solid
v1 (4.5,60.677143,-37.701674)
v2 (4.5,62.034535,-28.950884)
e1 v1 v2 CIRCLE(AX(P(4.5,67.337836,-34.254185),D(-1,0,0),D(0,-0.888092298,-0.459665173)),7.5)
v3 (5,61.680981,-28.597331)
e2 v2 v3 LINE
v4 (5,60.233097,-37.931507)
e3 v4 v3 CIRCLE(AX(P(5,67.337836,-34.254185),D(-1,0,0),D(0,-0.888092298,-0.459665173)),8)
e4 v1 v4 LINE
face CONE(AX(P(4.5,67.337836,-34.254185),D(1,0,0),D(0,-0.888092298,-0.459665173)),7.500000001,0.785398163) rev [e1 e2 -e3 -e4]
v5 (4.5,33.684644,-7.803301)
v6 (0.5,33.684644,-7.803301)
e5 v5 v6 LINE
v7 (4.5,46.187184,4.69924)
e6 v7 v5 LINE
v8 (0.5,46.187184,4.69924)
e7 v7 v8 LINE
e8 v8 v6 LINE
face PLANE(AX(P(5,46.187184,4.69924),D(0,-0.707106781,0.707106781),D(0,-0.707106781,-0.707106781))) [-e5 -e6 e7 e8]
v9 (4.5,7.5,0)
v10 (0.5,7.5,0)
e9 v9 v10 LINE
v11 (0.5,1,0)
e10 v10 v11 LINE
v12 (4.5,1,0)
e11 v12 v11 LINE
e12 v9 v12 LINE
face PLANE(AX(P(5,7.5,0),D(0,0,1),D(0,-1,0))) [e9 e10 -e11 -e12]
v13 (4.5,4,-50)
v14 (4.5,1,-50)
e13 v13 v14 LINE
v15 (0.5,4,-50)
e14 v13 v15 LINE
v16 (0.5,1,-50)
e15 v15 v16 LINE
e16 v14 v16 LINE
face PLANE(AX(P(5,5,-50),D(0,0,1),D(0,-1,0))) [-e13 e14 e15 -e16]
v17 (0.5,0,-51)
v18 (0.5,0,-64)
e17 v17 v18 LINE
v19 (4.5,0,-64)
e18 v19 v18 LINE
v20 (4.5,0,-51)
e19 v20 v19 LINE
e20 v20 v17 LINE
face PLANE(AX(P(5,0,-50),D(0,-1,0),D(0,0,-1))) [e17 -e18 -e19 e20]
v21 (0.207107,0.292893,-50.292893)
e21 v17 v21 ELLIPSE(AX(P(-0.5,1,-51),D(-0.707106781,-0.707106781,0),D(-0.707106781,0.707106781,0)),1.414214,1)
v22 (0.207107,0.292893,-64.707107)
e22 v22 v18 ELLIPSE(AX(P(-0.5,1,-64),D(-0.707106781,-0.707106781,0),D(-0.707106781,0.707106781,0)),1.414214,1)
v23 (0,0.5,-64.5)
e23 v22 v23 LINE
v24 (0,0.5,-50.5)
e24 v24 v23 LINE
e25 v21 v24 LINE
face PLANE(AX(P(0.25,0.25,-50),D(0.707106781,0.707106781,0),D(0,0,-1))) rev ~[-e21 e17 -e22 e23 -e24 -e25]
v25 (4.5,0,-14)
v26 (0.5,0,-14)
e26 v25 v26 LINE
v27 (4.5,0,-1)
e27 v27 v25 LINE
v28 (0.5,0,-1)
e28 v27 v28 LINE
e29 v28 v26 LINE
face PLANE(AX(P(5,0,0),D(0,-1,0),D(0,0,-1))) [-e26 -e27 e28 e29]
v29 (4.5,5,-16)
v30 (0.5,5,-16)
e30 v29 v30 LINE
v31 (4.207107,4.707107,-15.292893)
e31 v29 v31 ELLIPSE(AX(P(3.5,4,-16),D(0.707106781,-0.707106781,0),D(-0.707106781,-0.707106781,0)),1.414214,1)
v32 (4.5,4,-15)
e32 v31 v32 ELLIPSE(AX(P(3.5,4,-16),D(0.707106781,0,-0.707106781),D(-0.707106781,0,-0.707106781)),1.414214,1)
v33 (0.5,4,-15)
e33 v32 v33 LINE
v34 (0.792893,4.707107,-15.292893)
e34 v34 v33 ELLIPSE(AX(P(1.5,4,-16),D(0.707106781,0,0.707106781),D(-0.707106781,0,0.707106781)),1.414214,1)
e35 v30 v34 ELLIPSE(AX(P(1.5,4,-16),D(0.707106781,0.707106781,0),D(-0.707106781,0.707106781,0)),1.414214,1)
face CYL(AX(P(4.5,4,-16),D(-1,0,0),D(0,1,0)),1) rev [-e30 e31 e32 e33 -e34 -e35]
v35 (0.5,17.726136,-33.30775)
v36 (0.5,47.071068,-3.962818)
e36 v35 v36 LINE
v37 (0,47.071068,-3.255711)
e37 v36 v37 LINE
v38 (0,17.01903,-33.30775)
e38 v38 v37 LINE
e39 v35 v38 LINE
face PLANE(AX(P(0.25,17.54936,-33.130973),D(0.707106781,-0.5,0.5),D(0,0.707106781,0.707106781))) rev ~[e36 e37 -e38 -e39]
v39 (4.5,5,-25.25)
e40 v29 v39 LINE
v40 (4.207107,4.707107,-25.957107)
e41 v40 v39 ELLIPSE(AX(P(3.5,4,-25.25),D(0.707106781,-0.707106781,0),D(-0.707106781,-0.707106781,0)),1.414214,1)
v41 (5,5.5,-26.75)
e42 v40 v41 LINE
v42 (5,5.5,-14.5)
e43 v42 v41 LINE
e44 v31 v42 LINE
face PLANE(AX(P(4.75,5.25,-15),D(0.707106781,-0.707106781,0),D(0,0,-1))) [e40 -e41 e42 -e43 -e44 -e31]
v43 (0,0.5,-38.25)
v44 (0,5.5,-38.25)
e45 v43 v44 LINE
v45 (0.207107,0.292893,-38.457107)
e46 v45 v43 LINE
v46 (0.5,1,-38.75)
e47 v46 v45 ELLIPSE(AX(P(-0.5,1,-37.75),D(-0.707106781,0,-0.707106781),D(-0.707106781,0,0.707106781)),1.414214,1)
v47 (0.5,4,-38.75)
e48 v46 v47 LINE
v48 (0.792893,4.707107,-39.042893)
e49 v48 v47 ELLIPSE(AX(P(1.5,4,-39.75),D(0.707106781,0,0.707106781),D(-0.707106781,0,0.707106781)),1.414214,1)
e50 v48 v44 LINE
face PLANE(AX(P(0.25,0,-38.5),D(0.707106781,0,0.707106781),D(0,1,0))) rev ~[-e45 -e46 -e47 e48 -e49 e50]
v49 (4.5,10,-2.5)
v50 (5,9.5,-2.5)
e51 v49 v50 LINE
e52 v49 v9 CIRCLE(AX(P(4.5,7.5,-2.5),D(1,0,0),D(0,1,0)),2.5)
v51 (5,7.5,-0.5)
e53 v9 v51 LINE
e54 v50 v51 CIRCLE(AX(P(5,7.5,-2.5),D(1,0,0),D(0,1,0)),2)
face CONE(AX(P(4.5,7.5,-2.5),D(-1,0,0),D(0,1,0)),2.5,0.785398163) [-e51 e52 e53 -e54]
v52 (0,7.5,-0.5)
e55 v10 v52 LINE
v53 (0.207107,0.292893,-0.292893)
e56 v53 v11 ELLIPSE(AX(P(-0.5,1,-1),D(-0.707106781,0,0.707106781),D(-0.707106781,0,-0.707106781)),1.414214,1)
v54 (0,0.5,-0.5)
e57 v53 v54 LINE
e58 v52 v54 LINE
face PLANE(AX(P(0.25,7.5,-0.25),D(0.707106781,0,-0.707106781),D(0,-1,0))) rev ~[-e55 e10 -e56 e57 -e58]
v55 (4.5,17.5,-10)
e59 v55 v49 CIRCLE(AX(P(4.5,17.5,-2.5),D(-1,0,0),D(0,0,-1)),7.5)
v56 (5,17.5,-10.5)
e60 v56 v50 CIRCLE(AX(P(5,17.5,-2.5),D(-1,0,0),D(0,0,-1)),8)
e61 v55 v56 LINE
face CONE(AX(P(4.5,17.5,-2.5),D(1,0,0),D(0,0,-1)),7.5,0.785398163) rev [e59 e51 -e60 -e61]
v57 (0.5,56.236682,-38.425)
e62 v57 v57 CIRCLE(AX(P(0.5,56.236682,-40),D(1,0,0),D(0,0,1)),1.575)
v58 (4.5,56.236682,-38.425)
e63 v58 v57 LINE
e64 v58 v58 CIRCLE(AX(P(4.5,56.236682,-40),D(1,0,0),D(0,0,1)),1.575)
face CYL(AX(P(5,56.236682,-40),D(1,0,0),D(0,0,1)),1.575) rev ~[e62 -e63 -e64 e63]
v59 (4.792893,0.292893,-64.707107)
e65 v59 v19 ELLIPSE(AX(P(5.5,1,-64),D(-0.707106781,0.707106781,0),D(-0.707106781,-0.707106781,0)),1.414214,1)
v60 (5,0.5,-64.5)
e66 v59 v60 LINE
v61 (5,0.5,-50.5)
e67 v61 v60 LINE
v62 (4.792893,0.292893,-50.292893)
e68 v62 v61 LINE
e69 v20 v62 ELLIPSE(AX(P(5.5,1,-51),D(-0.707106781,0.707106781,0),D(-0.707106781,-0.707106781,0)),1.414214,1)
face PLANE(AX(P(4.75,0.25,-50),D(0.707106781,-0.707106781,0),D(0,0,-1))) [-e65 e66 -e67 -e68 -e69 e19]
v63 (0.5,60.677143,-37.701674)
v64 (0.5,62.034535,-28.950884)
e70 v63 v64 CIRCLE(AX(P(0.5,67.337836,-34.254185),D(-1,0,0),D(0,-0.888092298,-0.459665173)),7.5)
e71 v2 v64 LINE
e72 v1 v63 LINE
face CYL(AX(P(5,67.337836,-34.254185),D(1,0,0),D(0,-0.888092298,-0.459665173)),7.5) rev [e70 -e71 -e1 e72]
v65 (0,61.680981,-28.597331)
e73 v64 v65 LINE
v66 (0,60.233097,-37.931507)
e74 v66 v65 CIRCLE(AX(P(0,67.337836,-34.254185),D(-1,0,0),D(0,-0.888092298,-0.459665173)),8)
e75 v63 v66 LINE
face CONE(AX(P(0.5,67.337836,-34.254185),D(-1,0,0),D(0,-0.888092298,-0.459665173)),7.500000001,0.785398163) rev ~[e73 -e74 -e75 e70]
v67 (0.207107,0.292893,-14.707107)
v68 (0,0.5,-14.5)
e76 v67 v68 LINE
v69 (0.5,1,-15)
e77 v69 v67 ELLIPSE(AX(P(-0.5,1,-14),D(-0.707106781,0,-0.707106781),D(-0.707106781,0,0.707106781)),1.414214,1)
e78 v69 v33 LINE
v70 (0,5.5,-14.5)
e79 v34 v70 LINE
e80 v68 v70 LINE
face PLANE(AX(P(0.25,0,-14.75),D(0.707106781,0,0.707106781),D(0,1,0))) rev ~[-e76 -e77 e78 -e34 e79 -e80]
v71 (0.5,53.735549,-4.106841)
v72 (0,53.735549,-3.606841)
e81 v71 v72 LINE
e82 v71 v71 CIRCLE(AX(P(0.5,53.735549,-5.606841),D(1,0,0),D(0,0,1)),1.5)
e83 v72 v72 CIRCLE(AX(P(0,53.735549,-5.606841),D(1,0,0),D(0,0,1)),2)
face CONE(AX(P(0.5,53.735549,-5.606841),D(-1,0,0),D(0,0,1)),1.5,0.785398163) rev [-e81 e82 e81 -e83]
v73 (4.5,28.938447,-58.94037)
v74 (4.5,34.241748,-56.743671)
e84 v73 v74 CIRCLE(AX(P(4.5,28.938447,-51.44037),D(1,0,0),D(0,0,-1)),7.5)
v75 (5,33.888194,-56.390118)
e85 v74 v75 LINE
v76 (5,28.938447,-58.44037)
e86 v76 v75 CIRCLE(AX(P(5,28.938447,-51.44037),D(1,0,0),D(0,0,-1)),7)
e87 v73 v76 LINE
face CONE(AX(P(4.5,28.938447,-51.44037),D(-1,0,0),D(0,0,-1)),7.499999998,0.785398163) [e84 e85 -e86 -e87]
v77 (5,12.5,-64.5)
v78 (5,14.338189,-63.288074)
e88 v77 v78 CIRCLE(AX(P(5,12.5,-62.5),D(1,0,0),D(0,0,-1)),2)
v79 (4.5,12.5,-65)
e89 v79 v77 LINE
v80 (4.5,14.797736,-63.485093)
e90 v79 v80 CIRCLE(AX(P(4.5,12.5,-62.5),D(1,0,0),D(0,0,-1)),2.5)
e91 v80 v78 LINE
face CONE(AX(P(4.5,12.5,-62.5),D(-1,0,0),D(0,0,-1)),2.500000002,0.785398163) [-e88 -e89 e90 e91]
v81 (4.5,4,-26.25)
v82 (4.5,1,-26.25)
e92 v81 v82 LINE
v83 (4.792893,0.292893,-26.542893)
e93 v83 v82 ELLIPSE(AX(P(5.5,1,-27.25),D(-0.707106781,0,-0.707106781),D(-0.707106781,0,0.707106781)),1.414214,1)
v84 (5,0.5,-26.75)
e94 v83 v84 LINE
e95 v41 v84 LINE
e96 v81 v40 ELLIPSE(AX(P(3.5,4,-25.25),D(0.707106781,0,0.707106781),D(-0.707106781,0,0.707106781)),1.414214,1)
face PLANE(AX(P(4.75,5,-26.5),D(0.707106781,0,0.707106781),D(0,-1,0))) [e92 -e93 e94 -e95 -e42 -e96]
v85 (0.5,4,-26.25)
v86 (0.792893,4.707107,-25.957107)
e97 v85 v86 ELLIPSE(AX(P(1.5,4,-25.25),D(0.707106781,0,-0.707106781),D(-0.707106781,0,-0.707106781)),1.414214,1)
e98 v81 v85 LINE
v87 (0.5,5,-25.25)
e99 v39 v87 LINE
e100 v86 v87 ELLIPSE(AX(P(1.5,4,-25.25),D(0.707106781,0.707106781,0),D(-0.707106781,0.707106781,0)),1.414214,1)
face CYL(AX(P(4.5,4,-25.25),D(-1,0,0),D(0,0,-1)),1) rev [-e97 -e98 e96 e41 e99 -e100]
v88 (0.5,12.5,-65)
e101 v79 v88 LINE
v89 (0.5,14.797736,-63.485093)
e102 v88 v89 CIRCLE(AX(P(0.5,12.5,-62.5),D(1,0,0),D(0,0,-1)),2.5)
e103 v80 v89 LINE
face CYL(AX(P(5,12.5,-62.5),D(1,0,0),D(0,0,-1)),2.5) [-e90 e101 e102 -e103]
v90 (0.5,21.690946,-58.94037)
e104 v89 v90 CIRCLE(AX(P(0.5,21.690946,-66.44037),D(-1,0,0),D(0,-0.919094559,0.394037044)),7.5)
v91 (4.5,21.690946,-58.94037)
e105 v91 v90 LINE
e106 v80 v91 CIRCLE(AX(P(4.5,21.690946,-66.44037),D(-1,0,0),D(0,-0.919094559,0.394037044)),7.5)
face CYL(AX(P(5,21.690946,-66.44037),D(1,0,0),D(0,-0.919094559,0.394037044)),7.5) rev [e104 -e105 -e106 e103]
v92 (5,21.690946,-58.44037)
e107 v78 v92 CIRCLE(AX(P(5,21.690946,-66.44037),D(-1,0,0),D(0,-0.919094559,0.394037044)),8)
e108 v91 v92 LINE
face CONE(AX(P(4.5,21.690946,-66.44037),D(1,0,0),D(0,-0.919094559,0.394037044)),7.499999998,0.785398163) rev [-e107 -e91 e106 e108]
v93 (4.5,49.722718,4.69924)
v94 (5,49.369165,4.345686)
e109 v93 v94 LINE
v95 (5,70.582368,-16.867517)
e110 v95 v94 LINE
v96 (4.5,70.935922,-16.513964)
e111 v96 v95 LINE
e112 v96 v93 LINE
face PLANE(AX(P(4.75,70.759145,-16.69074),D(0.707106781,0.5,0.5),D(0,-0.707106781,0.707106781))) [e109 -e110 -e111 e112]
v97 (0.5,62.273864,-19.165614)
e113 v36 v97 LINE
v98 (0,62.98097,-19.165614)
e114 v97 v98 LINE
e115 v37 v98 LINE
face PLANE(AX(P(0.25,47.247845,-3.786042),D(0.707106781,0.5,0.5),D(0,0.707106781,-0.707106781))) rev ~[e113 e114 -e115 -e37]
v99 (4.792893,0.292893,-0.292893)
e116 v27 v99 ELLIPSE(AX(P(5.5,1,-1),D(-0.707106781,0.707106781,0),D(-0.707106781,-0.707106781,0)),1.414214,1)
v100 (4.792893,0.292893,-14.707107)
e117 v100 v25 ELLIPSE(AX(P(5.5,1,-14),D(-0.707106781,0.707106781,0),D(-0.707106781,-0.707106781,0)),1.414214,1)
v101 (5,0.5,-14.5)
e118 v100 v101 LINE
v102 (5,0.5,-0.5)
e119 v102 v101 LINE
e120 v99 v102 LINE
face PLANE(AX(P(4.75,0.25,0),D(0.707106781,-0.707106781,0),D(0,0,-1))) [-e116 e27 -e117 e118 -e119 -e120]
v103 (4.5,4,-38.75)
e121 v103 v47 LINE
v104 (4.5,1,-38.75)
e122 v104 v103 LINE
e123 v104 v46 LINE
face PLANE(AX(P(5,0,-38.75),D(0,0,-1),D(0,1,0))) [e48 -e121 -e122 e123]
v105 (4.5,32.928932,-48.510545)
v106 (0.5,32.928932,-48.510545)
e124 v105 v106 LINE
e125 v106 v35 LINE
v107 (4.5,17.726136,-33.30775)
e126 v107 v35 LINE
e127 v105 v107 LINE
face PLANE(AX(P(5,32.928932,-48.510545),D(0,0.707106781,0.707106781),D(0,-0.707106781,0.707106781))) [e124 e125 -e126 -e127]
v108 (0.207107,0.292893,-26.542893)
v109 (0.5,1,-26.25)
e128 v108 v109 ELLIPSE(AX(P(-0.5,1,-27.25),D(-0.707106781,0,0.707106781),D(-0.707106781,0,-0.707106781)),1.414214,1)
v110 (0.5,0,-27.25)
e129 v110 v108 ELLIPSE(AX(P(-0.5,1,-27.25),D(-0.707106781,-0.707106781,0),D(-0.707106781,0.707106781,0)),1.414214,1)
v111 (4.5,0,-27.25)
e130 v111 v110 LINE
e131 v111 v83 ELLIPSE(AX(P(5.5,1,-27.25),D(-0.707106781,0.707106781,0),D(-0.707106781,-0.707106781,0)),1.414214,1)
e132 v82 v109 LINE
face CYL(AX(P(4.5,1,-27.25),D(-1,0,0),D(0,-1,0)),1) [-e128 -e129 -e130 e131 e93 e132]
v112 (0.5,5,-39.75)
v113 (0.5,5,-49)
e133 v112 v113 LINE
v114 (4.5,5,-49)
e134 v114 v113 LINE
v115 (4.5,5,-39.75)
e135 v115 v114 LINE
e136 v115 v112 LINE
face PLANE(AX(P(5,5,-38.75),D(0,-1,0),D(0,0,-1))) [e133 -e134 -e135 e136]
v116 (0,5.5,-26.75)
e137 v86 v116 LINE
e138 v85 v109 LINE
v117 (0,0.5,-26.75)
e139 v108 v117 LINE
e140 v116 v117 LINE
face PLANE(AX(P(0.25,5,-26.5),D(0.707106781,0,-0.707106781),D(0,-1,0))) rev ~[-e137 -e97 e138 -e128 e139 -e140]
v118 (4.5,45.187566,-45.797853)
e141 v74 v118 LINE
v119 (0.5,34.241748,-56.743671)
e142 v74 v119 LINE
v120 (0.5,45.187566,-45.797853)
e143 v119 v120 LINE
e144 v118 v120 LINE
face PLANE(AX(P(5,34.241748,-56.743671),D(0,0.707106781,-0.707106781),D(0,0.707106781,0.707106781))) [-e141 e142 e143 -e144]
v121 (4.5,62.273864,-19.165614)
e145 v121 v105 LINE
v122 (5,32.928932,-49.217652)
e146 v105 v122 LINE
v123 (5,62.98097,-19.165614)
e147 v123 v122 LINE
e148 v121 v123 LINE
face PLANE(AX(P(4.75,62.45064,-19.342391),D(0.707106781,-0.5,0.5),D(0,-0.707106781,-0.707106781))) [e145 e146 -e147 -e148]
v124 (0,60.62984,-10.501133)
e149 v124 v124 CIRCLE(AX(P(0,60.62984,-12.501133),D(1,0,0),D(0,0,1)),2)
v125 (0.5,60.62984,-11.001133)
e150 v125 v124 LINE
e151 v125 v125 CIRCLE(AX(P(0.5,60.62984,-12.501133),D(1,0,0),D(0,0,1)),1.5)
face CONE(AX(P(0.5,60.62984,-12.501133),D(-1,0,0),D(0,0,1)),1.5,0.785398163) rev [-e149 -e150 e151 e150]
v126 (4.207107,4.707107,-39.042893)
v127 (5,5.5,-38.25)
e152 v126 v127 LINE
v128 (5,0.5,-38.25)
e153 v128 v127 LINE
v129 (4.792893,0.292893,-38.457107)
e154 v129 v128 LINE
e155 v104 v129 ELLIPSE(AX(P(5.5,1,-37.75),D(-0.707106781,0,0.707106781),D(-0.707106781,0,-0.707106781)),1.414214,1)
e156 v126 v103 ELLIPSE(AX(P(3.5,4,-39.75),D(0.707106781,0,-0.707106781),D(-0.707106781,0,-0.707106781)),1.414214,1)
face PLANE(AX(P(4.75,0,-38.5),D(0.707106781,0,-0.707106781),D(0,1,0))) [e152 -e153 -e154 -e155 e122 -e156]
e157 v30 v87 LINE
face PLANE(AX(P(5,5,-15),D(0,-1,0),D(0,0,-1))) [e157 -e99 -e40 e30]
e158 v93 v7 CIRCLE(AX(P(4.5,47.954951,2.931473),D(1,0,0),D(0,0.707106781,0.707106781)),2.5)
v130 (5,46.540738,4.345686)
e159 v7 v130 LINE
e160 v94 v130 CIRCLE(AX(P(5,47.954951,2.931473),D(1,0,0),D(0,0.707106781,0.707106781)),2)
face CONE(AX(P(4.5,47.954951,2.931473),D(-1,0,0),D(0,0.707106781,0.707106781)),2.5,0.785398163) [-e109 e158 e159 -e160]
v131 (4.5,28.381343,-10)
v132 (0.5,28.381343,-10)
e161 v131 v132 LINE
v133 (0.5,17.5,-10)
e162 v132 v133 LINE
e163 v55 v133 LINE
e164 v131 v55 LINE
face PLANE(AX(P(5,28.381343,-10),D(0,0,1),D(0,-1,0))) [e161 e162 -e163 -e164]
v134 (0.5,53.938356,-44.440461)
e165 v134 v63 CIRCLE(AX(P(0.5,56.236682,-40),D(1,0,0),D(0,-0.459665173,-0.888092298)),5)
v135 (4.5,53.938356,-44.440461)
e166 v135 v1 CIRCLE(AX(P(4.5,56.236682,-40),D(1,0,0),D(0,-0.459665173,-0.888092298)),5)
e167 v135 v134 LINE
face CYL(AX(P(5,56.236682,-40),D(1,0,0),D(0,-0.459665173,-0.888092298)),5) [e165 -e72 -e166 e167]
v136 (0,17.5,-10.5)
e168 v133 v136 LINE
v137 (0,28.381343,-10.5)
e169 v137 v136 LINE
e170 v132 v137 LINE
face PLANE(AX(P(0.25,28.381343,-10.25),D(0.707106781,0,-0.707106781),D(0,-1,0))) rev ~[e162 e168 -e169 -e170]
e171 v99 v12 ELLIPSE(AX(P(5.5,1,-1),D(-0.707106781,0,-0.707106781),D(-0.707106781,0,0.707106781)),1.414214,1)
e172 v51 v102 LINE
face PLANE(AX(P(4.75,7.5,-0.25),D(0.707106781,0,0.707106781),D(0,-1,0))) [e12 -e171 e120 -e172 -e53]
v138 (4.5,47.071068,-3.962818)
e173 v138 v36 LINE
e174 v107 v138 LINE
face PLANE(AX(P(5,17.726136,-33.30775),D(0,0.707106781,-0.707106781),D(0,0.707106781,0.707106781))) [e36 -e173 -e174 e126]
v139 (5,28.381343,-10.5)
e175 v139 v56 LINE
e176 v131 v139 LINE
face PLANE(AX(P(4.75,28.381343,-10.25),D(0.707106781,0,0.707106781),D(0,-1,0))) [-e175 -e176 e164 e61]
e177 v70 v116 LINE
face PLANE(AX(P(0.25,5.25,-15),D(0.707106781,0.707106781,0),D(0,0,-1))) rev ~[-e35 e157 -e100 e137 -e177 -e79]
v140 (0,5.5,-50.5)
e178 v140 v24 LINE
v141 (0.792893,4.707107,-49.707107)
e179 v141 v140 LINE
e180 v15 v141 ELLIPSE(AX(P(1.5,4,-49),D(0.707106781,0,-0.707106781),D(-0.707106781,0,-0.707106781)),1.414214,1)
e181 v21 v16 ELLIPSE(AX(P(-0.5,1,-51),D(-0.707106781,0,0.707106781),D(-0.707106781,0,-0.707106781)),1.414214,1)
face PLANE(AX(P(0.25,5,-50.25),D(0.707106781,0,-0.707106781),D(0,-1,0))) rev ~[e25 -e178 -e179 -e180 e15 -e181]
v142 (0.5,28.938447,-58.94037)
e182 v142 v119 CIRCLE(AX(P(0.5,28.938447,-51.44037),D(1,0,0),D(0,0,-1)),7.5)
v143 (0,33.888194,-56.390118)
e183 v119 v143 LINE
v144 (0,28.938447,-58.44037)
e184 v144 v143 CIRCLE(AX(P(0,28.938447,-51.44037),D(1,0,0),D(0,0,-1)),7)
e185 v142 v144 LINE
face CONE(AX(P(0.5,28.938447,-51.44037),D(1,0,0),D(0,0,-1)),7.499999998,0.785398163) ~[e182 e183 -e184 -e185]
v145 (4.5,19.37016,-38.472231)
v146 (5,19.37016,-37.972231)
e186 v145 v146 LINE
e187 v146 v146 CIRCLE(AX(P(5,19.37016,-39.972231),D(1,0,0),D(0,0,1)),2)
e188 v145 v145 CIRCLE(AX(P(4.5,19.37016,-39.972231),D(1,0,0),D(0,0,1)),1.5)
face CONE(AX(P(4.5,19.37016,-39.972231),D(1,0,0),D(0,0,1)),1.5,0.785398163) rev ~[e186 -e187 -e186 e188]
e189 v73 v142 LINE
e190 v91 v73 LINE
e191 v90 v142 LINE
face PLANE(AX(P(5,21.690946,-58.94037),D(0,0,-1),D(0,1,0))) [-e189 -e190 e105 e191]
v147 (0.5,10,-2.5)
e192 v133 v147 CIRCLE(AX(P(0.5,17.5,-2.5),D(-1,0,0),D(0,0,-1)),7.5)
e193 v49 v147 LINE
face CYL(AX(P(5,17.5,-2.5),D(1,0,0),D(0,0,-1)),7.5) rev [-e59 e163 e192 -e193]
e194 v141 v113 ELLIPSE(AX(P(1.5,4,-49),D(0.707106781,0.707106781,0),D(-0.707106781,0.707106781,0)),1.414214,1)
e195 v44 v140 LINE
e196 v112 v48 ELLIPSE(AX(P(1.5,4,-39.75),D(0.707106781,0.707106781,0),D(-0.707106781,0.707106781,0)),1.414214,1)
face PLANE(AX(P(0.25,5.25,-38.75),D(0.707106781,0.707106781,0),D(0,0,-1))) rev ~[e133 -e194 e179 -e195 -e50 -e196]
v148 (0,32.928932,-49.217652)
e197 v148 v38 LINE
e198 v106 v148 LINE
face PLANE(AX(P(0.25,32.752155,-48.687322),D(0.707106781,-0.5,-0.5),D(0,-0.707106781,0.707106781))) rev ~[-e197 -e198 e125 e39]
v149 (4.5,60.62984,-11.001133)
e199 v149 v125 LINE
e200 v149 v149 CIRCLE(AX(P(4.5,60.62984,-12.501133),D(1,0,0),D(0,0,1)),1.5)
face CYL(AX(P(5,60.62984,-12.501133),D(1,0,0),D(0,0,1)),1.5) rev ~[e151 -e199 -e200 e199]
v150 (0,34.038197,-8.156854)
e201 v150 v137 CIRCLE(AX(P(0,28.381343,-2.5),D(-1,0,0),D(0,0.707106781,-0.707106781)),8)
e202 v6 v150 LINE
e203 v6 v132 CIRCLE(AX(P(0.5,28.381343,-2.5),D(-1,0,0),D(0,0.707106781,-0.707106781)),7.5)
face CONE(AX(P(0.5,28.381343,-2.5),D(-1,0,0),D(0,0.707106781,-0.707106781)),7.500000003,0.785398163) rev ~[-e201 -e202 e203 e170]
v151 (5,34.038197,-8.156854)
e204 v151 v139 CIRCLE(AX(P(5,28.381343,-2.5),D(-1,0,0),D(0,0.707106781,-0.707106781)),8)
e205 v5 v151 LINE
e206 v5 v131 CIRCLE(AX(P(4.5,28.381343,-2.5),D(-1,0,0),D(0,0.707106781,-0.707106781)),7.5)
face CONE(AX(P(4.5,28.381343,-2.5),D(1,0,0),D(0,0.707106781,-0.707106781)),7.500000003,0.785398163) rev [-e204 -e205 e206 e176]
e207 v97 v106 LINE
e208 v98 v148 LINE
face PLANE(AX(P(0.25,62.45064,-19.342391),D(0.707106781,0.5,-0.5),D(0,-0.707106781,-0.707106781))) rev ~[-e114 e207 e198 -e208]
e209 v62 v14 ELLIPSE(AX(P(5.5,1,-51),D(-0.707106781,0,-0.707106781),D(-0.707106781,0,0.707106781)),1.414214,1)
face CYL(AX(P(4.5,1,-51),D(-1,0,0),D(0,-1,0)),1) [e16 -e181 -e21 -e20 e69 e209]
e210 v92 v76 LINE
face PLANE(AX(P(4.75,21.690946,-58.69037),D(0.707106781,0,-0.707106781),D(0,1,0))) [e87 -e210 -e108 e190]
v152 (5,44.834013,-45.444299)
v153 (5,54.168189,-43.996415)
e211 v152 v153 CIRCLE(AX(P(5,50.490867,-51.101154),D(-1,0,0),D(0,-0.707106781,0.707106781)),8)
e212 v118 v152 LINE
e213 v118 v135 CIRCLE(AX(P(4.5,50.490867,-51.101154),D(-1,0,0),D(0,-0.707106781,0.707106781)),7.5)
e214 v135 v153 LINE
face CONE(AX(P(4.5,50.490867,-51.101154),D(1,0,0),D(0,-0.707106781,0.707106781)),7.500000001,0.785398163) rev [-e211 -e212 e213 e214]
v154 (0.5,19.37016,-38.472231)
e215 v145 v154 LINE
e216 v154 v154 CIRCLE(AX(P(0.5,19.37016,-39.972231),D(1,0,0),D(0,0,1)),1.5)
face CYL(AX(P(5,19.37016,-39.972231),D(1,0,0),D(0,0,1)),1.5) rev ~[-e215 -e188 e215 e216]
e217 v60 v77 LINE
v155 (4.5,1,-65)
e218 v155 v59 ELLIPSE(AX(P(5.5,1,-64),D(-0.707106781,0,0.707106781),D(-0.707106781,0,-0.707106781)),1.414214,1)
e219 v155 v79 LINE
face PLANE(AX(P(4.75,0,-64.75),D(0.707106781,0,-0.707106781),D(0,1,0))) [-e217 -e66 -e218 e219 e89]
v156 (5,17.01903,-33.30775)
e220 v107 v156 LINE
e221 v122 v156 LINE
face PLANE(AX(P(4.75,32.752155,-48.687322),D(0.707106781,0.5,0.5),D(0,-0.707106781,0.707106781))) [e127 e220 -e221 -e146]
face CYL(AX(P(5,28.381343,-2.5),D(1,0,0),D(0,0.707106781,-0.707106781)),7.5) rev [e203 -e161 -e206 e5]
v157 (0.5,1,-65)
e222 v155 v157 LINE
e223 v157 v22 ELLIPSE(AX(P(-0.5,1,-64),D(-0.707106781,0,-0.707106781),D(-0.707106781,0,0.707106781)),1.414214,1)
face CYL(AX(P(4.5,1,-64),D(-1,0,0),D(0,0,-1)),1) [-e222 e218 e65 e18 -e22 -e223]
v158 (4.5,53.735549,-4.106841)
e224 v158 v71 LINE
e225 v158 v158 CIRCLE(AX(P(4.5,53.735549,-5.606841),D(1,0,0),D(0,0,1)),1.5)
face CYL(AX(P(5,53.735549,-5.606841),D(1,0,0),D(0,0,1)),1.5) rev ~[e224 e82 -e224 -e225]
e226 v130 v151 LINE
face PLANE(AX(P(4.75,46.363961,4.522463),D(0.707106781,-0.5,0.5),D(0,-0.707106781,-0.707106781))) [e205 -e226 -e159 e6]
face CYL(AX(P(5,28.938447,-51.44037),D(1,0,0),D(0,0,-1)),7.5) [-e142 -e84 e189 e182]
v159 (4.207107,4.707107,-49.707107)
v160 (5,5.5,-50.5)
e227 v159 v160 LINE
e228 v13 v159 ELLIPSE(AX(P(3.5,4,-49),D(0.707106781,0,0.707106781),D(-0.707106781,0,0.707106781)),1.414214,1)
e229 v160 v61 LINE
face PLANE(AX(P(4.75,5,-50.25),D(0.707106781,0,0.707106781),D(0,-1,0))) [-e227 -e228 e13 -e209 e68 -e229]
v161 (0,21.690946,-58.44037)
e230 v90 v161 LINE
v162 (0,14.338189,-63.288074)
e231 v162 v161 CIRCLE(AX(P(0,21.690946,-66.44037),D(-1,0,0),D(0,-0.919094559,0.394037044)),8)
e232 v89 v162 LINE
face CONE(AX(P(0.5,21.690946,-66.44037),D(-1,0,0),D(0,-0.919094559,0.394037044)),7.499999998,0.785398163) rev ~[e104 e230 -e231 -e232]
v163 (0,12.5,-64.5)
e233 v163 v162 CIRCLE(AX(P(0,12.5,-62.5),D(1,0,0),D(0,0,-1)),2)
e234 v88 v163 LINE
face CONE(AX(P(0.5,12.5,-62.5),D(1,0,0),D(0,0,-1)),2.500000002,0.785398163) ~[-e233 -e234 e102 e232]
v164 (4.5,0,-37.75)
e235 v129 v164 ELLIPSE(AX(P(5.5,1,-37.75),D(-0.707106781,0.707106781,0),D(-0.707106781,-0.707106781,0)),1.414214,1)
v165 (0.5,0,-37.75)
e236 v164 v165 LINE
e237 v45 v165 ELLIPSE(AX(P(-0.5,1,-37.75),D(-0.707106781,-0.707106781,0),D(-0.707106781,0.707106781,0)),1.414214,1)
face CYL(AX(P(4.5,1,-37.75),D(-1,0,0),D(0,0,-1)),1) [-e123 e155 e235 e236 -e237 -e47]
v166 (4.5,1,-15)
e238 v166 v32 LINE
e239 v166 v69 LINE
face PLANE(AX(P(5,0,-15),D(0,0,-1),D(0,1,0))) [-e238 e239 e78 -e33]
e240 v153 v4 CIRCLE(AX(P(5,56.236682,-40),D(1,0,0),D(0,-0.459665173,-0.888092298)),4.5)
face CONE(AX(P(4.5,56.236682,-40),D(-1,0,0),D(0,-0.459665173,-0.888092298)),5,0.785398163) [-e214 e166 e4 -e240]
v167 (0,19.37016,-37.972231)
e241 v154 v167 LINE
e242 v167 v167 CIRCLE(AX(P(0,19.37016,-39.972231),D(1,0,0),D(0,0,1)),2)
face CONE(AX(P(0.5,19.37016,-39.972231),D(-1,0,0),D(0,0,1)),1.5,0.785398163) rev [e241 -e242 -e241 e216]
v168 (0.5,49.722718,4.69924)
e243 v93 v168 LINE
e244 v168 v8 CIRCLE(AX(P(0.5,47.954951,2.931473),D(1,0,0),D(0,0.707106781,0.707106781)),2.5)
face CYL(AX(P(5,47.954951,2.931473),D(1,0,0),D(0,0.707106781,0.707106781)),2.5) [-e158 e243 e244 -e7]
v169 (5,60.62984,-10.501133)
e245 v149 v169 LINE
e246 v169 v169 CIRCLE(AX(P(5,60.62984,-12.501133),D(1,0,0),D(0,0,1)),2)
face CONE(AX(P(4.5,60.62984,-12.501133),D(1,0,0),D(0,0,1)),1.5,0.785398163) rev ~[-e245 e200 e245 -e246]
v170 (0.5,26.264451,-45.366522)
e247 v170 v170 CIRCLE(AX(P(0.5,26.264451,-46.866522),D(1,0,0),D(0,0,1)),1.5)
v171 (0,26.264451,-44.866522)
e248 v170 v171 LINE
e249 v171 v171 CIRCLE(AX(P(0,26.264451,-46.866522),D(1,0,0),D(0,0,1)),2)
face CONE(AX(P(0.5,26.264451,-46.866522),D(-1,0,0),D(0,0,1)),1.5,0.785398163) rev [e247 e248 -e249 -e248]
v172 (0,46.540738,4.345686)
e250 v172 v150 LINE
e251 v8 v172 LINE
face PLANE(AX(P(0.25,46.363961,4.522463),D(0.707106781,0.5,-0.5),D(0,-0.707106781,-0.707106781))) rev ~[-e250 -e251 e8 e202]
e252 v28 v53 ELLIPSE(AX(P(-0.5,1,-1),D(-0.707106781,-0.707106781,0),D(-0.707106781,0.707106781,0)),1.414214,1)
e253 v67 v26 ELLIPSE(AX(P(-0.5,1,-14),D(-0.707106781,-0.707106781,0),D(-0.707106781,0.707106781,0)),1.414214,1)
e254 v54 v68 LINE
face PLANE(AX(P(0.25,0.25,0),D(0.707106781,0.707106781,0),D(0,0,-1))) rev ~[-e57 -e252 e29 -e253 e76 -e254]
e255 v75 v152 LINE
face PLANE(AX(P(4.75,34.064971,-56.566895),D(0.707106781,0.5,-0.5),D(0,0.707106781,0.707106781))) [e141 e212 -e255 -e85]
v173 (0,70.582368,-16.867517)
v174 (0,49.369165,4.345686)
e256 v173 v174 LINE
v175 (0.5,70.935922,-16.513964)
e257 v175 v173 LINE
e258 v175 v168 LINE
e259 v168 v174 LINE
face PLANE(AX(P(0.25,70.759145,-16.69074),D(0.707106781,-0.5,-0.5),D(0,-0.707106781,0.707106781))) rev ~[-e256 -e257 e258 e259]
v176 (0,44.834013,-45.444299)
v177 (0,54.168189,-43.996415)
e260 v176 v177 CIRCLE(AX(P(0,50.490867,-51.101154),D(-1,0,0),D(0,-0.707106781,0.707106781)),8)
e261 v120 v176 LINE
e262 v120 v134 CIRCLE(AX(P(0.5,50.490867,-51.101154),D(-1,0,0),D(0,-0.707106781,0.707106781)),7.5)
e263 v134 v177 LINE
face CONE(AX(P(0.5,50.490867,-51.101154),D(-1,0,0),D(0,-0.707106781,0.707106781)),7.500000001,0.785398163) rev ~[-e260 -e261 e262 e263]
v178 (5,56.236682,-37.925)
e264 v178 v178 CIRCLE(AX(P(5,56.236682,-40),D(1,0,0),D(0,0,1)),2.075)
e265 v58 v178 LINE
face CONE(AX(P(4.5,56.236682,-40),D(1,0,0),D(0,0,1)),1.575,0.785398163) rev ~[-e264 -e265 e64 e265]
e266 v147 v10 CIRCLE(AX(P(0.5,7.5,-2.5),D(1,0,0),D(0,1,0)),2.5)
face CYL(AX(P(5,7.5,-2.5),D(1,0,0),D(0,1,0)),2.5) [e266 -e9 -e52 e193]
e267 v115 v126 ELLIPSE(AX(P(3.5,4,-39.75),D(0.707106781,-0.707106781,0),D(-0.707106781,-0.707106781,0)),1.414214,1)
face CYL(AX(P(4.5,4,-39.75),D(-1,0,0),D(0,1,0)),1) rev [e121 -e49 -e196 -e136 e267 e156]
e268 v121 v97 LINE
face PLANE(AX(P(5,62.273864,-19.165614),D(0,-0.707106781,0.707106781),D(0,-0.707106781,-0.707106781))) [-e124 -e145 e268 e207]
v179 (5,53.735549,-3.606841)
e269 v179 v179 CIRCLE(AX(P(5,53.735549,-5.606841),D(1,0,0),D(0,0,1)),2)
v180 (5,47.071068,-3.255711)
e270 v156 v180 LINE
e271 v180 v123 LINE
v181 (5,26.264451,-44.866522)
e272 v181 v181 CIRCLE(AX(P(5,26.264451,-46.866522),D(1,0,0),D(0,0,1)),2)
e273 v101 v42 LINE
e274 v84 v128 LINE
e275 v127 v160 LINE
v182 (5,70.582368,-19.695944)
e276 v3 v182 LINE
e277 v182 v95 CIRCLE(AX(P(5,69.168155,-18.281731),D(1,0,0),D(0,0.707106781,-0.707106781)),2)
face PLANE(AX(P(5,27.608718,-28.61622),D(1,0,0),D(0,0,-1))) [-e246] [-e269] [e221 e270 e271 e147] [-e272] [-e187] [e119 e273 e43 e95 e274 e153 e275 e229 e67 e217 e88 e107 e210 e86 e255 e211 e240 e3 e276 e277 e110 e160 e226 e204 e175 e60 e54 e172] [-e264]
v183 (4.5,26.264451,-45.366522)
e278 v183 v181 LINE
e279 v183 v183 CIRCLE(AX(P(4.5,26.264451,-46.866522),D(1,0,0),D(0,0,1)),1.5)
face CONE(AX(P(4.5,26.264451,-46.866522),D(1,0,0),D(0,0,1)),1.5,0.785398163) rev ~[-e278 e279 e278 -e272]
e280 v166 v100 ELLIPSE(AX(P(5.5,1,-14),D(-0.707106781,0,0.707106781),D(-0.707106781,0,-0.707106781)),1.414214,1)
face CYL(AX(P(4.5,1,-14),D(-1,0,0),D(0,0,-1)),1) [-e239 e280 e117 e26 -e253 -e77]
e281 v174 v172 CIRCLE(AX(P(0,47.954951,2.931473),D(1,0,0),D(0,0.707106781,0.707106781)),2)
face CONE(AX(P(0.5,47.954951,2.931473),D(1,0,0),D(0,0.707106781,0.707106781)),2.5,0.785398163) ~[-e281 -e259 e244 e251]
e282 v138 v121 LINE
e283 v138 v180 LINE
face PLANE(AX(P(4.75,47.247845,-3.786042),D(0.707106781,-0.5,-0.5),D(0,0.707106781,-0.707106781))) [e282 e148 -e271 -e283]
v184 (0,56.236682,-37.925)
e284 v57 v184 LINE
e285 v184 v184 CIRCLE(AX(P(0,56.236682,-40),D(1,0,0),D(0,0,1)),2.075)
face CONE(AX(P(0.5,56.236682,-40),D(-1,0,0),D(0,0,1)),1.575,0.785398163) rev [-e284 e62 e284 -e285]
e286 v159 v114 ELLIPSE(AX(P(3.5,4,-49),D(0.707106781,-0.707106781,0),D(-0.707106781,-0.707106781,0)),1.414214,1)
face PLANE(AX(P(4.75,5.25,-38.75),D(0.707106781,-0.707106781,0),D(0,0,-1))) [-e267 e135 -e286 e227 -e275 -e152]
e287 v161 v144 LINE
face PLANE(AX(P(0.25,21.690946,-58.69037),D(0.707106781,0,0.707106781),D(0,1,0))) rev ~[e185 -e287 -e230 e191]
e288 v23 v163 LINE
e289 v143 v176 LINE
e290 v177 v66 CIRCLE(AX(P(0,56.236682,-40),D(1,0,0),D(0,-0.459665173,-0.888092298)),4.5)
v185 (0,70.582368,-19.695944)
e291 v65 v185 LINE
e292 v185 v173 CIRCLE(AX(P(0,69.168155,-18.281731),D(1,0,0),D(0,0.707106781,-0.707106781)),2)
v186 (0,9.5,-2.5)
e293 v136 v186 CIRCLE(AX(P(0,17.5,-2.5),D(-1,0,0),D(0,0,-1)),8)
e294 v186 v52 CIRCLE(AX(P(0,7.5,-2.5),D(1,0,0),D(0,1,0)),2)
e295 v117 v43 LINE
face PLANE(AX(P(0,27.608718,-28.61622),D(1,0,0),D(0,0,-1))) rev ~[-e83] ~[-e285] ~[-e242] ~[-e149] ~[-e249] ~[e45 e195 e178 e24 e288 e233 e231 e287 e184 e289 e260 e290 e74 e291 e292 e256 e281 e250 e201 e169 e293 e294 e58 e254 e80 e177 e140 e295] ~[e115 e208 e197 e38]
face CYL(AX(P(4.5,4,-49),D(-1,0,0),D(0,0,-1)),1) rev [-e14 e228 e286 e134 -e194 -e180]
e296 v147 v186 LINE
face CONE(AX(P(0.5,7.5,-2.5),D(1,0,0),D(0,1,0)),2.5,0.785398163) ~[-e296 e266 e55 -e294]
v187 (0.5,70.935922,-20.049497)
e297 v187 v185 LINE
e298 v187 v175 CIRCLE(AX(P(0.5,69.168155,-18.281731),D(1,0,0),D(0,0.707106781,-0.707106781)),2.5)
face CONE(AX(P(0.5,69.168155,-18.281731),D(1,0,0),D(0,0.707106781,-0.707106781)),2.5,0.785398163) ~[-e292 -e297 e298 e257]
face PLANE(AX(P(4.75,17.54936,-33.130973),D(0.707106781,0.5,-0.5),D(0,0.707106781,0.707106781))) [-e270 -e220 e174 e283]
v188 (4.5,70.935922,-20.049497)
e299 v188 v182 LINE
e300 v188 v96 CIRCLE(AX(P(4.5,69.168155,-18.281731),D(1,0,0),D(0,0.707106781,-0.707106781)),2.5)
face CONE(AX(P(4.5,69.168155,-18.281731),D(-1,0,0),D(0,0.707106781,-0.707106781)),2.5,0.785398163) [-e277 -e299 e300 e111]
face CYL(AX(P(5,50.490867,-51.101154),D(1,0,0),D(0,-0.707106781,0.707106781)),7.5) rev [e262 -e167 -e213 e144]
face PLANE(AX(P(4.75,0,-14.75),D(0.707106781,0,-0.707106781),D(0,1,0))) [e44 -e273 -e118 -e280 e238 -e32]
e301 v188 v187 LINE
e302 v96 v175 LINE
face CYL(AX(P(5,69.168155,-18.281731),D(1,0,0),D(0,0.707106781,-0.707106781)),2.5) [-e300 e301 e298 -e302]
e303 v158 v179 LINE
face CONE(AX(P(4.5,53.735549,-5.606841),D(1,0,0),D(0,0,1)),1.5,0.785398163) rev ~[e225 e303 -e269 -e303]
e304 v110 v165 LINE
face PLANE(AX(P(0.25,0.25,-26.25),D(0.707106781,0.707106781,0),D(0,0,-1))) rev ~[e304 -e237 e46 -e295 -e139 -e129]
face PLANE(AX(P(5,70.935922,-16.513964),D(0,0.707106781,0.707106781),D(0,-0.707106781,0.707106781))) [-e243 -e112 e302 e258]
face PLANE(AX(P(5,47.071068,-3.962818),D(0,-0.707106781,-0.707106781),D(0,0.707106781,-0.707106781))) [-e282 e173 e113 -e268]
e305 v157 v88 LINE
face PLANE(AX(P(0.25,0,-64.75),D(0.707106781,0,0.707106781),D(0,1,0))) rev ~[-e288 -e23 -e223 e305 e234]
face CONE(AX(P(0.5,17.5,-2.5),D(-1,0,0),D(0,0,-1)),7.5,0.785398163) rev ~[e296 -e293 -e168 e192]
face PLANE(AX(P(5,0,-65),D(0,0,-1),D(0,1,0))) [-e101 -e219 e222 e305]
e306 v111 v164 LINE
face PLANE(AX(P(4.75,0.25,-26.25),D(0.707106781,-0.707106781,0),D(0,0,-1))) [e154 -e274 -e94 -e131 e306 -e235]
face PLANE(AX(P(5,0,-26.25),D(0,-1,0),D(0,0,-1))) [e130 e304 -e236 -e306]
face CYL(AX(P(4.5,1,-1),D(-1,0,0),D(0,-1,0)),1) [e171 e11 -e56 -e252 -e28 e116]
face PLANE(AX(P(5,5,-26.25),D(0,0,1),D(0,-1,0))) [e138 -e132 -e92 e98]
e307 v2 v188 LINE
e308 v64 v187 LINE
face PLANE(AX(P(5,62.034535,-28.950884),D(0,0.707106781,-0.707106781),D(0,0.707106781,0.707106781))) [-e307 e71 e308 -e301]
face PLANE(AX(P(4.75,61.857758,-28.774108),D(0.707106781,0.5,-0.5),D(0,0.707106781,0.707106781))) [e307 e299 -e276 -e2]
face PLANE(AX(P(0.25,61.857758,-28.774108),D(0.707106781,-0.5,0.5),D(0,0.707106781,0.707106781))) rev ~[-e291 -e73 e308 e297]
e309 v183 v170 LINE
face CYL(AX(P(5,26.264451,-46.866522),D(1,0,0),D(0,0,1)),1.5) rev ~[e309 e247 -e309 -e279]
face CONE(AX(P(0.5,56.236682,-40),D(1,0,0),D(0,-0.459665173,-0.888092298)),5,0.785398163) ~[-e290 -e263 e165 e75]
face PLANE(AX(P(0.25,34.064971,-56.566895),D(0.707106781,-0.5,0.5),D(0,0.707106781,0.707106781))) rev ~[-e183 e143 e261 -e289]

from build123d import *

# Parameters (mm, degrees)
SKETCH_1_R      = 1.575
SKETCH_1_R_2    = 1.5
EXTRUDE_1_DEPTH = 5
CHAMFER_1_SIZE  = 0.5
FILLET_1_R      = 1


with BuildPart() as part:
    # 草图1 → 凸台-拉伸1 (new body)
    with BuildSketch(Plane(origin=(5, 0, 0), x_dir=(0, 0, -1), z_dir=(1, 0, 0))):
        with BuildLine():
            Line((58.94037044, 21.690945588), (58.94037044, 28.938446994))
            ThreePointArc((58.94037044, 28.938446994), (58.369466934, 31.808572737), (56.743671299, 34.241747853))
            Line((56.743671299, 34.241747853), (45.79785286, 45.187566291))
            ThreePointArc((45.79785286, 45.187566291), (43.689786601, 49.341242238), (44.440461488, 53.938355946))
            ThreePointArc((44.440461488, 53.938355946), (43.535533906, 59.772215716), (37.701674136, 60.677143298))
            ThreePointArc((37.701674136, 60.677143298), (33.104560428, 59.926468411), (28.950884481, 62.03453467))
            Line((28.950884481, 62.03453467), (20.049497475, 70.935921677))
            ThreePointArc((20.049497475, 70.935921677), (18.281730522, 71.668154724), (16.513963569, 70.935921677))
            Line((16.513963569, 70.935921677), (-4.699239867, 49.722718241))
            ThreePointArc((-4.699239867, 49.722718241), (-5.431472914, 47.954951288), (-4.699239867, 46.187184335))
            Line((-4.699239867, 46.187184335), (7.803300859, 33.68464361))
            ThreePointArc((7.803300859, 33.68464361), (9.429096494, 31.251468493), (10, 28.381342751))
            Line((10, 28.381342751), (10, 17.5))
            ThreePointArc((10, 17.5), (7.803300859, 12.196699141), (2.5, 10))
            ThreePointArc((2.5, 10), (0.732233047, 9.267766953), (0, 7.5))
            Line((0, 7.5), (0, 0))
            Line((0, 0), (15, 0))
            Line((15, 0), (15, 5))
            Line((15, 5), (26.25, 5))
            Line((26.25, 5), (26.25, 0))
            Line((26.25, 0), (38.75, 0))
            Line((38.75, 0), (38.75, 5))
            Line((38.75, 5), (50, 5))
            Line((50, 5), (50, 0))
            Line((50, 0), (65, 0))
            Line((65, 0), (65, 12.5))
            ThreePointArc((65, 12.5), (64.587190878, 13.876093833), (63.48509261, 14.797736397))
            ThreePointArc((63.48509261, 14.797736397), (60.178797805, 17.562664088), (58.94037044, 21.690945588))
        make_face()
        with Locations(Location((40, 56.23668181, 0), (0, 0, 180))):
            Circle(SKETCH_1_R, mode=Mode.SUBTRACT)
        with Locations(Location((39.972231035, 19.370159659, 0), (0, 0, 180))):
            Circle(SKETCH_1_R_2, mode=Mode.SUBTRACT)
        with Locations(Location((12.501132586, 60.629840341, 0), (0, 0, 180))):
            Circle(SKETCH_1_R_2, mode=Mode.SUBTRACT)
        with Locations(Location((5.606841469, 53.735549225, 0), (0, 0, 180))):
            Circle(SKETCH_1_R_2, mode=Mode.SUBTRACT)
        with Locations(Location((46.866522151, 26.264450775, 0), (0, 0, 180))):
            Circle(SKETCH_1_R_2, mode=Mode.SUBTRACT)
        Polygon((19.165613998, 62.273863607), (48.510545417, 32.928932188), (33.307749622, 17.726136393), (3.962818203, 47.071067812), align=None, mode=Mode.SUBTRACT)
    extrude(amount=-EXTRUDE_1_DEPTH)

    # 倒角1
    chamfer_1_edges = [part.edges().sort_by_distance(p)[0] for p in [
        (0, 5, -44.375),
        (0, 2.5, -50),
        (0, 0, -57.5),
        (0, 6.25, -65),
        (0, 25.314696291, -58.94037044),
        (0, 31.808572737, -58.369466934),
        (0, 39.714657072, -51.27076208),
        (0, 49.341242238, -43.689786601),
        (5, 6.25, -65),
        (5, 0, -57.5),
        (5, 2.5, -50),
        (5, 5, -44.375),
        (5, 2.5, -38.75),
        (5, 0, -32.5),
        (0, 59.772215716, -43.535533906),
        (5, 2.5, -26.25),
        (5, 5, -20.625),
        (5, 2.5, -15),
        (5, 0, -7.5),
        (5, 3.75, 0),
        (5, 9.267766953, -0.732233047),
        (5, 12.196699141, -7.803300859),
        (5, 22.940671375, -10),
        (5, 31.251468493, -9.429096494),
        (5, 39.935913973, -1.552030496),
        (0, 59.926468411, -33.104560428),
        (5, 47.954951288, 5.431472914),
        (5, 60.329319959, -5.907361851),
        (5, 71.668154724, -18.281730522),
        (5, 66.485228174, -24.500190978),
        (5, 59.926468411, -33.104560428),
        (5, 59.772215716, -43.535533906),
        (5, 49.341242238, -43.689786601),
        (5, 39.714657072, -51.27076208),
        (5, 31.808572737, -58.369466934),
        (5, 25.314696291, -58.94037044),
        (0, 66.485228174, -24.500190978),
        (5, 17.562664088, -60.178797805),
        (5, 13.876093833, -64.587190878),
        (0, 71.668154724, -18.281730522),
        (0, 60.329319959, -5.907361851),
        (0, 47.954951288, 5.431472914),
        (0, 13.876093833, -64.587190878),
        (0, 39.935913973, -1.552030496),
        (0, 31.251468493, -9.429096494),
        (0, 22.940671375, -10),
        (0, 12.196699141, -7.803300859),
        (0, 56.23668181, -41.575),
        (5, 56.23668181, -41.575),
        (0, 9.267766953, -0.732233047),
        (0, 19.370159659, -41.472231035),
        (5, 19.370159659, -41.472231035),
        (0, 3.75, 0),
        (0, 0, -7.5),
        (0, 54.67246571, -11.5642161),
        (0, 47.601397898, -33.838079708),
        (0, 25.32753429, -40.90914752),
        (0, 32.398602102, -18.635283912),
        (5, 54.67246571, -11.5642161),
        (5, 32.398602102, -18.635283912),
        (5, 25.32753429, -40.90914752),
        (5, 47.601397898, -33.838079708),
        (0, 2.5, -15),
        (0, 5, -20.625),
        (0, 60.629840341, -14.001132586),
        (5, 60.629840341, -14.001132586),
        (0, 2.5, -26.25),
        (0, 17.562664088, -60.178797805),
        (0, 53.735549225, -7.106841469),
        (5, 53.735549225, -7.106841469),
        (0, 0, -32.5),
        (0, 26.264450775, -48.366522151),
        (5, 26.264450775, -48.366522151),
        (0, 2.5, -38.75),
    ]]
    chamfer(chamfer_1_edges, length=CHAMFER_1_SIZE)

    # 圆角1
    fillet_1_edges = [part.edges().sort_by_distance(p)[0] for p in [
        (2.5, 0, 0),
        (2.5, 0, -15),
        (2.5, 5, -15),
        (2.5, 5, -26.25),
        (2.5, 0, -26.25),
        (2.5, 0, -38.75),
        (2.5, 5, -38.75),
        (2.5, 5, -50),
        (2.5, 0, -50),
        (2.5, 0, -65),
    ]]
    fillet(fillet_1_edges, radius=FILLET_1_R)


solid = part.part
